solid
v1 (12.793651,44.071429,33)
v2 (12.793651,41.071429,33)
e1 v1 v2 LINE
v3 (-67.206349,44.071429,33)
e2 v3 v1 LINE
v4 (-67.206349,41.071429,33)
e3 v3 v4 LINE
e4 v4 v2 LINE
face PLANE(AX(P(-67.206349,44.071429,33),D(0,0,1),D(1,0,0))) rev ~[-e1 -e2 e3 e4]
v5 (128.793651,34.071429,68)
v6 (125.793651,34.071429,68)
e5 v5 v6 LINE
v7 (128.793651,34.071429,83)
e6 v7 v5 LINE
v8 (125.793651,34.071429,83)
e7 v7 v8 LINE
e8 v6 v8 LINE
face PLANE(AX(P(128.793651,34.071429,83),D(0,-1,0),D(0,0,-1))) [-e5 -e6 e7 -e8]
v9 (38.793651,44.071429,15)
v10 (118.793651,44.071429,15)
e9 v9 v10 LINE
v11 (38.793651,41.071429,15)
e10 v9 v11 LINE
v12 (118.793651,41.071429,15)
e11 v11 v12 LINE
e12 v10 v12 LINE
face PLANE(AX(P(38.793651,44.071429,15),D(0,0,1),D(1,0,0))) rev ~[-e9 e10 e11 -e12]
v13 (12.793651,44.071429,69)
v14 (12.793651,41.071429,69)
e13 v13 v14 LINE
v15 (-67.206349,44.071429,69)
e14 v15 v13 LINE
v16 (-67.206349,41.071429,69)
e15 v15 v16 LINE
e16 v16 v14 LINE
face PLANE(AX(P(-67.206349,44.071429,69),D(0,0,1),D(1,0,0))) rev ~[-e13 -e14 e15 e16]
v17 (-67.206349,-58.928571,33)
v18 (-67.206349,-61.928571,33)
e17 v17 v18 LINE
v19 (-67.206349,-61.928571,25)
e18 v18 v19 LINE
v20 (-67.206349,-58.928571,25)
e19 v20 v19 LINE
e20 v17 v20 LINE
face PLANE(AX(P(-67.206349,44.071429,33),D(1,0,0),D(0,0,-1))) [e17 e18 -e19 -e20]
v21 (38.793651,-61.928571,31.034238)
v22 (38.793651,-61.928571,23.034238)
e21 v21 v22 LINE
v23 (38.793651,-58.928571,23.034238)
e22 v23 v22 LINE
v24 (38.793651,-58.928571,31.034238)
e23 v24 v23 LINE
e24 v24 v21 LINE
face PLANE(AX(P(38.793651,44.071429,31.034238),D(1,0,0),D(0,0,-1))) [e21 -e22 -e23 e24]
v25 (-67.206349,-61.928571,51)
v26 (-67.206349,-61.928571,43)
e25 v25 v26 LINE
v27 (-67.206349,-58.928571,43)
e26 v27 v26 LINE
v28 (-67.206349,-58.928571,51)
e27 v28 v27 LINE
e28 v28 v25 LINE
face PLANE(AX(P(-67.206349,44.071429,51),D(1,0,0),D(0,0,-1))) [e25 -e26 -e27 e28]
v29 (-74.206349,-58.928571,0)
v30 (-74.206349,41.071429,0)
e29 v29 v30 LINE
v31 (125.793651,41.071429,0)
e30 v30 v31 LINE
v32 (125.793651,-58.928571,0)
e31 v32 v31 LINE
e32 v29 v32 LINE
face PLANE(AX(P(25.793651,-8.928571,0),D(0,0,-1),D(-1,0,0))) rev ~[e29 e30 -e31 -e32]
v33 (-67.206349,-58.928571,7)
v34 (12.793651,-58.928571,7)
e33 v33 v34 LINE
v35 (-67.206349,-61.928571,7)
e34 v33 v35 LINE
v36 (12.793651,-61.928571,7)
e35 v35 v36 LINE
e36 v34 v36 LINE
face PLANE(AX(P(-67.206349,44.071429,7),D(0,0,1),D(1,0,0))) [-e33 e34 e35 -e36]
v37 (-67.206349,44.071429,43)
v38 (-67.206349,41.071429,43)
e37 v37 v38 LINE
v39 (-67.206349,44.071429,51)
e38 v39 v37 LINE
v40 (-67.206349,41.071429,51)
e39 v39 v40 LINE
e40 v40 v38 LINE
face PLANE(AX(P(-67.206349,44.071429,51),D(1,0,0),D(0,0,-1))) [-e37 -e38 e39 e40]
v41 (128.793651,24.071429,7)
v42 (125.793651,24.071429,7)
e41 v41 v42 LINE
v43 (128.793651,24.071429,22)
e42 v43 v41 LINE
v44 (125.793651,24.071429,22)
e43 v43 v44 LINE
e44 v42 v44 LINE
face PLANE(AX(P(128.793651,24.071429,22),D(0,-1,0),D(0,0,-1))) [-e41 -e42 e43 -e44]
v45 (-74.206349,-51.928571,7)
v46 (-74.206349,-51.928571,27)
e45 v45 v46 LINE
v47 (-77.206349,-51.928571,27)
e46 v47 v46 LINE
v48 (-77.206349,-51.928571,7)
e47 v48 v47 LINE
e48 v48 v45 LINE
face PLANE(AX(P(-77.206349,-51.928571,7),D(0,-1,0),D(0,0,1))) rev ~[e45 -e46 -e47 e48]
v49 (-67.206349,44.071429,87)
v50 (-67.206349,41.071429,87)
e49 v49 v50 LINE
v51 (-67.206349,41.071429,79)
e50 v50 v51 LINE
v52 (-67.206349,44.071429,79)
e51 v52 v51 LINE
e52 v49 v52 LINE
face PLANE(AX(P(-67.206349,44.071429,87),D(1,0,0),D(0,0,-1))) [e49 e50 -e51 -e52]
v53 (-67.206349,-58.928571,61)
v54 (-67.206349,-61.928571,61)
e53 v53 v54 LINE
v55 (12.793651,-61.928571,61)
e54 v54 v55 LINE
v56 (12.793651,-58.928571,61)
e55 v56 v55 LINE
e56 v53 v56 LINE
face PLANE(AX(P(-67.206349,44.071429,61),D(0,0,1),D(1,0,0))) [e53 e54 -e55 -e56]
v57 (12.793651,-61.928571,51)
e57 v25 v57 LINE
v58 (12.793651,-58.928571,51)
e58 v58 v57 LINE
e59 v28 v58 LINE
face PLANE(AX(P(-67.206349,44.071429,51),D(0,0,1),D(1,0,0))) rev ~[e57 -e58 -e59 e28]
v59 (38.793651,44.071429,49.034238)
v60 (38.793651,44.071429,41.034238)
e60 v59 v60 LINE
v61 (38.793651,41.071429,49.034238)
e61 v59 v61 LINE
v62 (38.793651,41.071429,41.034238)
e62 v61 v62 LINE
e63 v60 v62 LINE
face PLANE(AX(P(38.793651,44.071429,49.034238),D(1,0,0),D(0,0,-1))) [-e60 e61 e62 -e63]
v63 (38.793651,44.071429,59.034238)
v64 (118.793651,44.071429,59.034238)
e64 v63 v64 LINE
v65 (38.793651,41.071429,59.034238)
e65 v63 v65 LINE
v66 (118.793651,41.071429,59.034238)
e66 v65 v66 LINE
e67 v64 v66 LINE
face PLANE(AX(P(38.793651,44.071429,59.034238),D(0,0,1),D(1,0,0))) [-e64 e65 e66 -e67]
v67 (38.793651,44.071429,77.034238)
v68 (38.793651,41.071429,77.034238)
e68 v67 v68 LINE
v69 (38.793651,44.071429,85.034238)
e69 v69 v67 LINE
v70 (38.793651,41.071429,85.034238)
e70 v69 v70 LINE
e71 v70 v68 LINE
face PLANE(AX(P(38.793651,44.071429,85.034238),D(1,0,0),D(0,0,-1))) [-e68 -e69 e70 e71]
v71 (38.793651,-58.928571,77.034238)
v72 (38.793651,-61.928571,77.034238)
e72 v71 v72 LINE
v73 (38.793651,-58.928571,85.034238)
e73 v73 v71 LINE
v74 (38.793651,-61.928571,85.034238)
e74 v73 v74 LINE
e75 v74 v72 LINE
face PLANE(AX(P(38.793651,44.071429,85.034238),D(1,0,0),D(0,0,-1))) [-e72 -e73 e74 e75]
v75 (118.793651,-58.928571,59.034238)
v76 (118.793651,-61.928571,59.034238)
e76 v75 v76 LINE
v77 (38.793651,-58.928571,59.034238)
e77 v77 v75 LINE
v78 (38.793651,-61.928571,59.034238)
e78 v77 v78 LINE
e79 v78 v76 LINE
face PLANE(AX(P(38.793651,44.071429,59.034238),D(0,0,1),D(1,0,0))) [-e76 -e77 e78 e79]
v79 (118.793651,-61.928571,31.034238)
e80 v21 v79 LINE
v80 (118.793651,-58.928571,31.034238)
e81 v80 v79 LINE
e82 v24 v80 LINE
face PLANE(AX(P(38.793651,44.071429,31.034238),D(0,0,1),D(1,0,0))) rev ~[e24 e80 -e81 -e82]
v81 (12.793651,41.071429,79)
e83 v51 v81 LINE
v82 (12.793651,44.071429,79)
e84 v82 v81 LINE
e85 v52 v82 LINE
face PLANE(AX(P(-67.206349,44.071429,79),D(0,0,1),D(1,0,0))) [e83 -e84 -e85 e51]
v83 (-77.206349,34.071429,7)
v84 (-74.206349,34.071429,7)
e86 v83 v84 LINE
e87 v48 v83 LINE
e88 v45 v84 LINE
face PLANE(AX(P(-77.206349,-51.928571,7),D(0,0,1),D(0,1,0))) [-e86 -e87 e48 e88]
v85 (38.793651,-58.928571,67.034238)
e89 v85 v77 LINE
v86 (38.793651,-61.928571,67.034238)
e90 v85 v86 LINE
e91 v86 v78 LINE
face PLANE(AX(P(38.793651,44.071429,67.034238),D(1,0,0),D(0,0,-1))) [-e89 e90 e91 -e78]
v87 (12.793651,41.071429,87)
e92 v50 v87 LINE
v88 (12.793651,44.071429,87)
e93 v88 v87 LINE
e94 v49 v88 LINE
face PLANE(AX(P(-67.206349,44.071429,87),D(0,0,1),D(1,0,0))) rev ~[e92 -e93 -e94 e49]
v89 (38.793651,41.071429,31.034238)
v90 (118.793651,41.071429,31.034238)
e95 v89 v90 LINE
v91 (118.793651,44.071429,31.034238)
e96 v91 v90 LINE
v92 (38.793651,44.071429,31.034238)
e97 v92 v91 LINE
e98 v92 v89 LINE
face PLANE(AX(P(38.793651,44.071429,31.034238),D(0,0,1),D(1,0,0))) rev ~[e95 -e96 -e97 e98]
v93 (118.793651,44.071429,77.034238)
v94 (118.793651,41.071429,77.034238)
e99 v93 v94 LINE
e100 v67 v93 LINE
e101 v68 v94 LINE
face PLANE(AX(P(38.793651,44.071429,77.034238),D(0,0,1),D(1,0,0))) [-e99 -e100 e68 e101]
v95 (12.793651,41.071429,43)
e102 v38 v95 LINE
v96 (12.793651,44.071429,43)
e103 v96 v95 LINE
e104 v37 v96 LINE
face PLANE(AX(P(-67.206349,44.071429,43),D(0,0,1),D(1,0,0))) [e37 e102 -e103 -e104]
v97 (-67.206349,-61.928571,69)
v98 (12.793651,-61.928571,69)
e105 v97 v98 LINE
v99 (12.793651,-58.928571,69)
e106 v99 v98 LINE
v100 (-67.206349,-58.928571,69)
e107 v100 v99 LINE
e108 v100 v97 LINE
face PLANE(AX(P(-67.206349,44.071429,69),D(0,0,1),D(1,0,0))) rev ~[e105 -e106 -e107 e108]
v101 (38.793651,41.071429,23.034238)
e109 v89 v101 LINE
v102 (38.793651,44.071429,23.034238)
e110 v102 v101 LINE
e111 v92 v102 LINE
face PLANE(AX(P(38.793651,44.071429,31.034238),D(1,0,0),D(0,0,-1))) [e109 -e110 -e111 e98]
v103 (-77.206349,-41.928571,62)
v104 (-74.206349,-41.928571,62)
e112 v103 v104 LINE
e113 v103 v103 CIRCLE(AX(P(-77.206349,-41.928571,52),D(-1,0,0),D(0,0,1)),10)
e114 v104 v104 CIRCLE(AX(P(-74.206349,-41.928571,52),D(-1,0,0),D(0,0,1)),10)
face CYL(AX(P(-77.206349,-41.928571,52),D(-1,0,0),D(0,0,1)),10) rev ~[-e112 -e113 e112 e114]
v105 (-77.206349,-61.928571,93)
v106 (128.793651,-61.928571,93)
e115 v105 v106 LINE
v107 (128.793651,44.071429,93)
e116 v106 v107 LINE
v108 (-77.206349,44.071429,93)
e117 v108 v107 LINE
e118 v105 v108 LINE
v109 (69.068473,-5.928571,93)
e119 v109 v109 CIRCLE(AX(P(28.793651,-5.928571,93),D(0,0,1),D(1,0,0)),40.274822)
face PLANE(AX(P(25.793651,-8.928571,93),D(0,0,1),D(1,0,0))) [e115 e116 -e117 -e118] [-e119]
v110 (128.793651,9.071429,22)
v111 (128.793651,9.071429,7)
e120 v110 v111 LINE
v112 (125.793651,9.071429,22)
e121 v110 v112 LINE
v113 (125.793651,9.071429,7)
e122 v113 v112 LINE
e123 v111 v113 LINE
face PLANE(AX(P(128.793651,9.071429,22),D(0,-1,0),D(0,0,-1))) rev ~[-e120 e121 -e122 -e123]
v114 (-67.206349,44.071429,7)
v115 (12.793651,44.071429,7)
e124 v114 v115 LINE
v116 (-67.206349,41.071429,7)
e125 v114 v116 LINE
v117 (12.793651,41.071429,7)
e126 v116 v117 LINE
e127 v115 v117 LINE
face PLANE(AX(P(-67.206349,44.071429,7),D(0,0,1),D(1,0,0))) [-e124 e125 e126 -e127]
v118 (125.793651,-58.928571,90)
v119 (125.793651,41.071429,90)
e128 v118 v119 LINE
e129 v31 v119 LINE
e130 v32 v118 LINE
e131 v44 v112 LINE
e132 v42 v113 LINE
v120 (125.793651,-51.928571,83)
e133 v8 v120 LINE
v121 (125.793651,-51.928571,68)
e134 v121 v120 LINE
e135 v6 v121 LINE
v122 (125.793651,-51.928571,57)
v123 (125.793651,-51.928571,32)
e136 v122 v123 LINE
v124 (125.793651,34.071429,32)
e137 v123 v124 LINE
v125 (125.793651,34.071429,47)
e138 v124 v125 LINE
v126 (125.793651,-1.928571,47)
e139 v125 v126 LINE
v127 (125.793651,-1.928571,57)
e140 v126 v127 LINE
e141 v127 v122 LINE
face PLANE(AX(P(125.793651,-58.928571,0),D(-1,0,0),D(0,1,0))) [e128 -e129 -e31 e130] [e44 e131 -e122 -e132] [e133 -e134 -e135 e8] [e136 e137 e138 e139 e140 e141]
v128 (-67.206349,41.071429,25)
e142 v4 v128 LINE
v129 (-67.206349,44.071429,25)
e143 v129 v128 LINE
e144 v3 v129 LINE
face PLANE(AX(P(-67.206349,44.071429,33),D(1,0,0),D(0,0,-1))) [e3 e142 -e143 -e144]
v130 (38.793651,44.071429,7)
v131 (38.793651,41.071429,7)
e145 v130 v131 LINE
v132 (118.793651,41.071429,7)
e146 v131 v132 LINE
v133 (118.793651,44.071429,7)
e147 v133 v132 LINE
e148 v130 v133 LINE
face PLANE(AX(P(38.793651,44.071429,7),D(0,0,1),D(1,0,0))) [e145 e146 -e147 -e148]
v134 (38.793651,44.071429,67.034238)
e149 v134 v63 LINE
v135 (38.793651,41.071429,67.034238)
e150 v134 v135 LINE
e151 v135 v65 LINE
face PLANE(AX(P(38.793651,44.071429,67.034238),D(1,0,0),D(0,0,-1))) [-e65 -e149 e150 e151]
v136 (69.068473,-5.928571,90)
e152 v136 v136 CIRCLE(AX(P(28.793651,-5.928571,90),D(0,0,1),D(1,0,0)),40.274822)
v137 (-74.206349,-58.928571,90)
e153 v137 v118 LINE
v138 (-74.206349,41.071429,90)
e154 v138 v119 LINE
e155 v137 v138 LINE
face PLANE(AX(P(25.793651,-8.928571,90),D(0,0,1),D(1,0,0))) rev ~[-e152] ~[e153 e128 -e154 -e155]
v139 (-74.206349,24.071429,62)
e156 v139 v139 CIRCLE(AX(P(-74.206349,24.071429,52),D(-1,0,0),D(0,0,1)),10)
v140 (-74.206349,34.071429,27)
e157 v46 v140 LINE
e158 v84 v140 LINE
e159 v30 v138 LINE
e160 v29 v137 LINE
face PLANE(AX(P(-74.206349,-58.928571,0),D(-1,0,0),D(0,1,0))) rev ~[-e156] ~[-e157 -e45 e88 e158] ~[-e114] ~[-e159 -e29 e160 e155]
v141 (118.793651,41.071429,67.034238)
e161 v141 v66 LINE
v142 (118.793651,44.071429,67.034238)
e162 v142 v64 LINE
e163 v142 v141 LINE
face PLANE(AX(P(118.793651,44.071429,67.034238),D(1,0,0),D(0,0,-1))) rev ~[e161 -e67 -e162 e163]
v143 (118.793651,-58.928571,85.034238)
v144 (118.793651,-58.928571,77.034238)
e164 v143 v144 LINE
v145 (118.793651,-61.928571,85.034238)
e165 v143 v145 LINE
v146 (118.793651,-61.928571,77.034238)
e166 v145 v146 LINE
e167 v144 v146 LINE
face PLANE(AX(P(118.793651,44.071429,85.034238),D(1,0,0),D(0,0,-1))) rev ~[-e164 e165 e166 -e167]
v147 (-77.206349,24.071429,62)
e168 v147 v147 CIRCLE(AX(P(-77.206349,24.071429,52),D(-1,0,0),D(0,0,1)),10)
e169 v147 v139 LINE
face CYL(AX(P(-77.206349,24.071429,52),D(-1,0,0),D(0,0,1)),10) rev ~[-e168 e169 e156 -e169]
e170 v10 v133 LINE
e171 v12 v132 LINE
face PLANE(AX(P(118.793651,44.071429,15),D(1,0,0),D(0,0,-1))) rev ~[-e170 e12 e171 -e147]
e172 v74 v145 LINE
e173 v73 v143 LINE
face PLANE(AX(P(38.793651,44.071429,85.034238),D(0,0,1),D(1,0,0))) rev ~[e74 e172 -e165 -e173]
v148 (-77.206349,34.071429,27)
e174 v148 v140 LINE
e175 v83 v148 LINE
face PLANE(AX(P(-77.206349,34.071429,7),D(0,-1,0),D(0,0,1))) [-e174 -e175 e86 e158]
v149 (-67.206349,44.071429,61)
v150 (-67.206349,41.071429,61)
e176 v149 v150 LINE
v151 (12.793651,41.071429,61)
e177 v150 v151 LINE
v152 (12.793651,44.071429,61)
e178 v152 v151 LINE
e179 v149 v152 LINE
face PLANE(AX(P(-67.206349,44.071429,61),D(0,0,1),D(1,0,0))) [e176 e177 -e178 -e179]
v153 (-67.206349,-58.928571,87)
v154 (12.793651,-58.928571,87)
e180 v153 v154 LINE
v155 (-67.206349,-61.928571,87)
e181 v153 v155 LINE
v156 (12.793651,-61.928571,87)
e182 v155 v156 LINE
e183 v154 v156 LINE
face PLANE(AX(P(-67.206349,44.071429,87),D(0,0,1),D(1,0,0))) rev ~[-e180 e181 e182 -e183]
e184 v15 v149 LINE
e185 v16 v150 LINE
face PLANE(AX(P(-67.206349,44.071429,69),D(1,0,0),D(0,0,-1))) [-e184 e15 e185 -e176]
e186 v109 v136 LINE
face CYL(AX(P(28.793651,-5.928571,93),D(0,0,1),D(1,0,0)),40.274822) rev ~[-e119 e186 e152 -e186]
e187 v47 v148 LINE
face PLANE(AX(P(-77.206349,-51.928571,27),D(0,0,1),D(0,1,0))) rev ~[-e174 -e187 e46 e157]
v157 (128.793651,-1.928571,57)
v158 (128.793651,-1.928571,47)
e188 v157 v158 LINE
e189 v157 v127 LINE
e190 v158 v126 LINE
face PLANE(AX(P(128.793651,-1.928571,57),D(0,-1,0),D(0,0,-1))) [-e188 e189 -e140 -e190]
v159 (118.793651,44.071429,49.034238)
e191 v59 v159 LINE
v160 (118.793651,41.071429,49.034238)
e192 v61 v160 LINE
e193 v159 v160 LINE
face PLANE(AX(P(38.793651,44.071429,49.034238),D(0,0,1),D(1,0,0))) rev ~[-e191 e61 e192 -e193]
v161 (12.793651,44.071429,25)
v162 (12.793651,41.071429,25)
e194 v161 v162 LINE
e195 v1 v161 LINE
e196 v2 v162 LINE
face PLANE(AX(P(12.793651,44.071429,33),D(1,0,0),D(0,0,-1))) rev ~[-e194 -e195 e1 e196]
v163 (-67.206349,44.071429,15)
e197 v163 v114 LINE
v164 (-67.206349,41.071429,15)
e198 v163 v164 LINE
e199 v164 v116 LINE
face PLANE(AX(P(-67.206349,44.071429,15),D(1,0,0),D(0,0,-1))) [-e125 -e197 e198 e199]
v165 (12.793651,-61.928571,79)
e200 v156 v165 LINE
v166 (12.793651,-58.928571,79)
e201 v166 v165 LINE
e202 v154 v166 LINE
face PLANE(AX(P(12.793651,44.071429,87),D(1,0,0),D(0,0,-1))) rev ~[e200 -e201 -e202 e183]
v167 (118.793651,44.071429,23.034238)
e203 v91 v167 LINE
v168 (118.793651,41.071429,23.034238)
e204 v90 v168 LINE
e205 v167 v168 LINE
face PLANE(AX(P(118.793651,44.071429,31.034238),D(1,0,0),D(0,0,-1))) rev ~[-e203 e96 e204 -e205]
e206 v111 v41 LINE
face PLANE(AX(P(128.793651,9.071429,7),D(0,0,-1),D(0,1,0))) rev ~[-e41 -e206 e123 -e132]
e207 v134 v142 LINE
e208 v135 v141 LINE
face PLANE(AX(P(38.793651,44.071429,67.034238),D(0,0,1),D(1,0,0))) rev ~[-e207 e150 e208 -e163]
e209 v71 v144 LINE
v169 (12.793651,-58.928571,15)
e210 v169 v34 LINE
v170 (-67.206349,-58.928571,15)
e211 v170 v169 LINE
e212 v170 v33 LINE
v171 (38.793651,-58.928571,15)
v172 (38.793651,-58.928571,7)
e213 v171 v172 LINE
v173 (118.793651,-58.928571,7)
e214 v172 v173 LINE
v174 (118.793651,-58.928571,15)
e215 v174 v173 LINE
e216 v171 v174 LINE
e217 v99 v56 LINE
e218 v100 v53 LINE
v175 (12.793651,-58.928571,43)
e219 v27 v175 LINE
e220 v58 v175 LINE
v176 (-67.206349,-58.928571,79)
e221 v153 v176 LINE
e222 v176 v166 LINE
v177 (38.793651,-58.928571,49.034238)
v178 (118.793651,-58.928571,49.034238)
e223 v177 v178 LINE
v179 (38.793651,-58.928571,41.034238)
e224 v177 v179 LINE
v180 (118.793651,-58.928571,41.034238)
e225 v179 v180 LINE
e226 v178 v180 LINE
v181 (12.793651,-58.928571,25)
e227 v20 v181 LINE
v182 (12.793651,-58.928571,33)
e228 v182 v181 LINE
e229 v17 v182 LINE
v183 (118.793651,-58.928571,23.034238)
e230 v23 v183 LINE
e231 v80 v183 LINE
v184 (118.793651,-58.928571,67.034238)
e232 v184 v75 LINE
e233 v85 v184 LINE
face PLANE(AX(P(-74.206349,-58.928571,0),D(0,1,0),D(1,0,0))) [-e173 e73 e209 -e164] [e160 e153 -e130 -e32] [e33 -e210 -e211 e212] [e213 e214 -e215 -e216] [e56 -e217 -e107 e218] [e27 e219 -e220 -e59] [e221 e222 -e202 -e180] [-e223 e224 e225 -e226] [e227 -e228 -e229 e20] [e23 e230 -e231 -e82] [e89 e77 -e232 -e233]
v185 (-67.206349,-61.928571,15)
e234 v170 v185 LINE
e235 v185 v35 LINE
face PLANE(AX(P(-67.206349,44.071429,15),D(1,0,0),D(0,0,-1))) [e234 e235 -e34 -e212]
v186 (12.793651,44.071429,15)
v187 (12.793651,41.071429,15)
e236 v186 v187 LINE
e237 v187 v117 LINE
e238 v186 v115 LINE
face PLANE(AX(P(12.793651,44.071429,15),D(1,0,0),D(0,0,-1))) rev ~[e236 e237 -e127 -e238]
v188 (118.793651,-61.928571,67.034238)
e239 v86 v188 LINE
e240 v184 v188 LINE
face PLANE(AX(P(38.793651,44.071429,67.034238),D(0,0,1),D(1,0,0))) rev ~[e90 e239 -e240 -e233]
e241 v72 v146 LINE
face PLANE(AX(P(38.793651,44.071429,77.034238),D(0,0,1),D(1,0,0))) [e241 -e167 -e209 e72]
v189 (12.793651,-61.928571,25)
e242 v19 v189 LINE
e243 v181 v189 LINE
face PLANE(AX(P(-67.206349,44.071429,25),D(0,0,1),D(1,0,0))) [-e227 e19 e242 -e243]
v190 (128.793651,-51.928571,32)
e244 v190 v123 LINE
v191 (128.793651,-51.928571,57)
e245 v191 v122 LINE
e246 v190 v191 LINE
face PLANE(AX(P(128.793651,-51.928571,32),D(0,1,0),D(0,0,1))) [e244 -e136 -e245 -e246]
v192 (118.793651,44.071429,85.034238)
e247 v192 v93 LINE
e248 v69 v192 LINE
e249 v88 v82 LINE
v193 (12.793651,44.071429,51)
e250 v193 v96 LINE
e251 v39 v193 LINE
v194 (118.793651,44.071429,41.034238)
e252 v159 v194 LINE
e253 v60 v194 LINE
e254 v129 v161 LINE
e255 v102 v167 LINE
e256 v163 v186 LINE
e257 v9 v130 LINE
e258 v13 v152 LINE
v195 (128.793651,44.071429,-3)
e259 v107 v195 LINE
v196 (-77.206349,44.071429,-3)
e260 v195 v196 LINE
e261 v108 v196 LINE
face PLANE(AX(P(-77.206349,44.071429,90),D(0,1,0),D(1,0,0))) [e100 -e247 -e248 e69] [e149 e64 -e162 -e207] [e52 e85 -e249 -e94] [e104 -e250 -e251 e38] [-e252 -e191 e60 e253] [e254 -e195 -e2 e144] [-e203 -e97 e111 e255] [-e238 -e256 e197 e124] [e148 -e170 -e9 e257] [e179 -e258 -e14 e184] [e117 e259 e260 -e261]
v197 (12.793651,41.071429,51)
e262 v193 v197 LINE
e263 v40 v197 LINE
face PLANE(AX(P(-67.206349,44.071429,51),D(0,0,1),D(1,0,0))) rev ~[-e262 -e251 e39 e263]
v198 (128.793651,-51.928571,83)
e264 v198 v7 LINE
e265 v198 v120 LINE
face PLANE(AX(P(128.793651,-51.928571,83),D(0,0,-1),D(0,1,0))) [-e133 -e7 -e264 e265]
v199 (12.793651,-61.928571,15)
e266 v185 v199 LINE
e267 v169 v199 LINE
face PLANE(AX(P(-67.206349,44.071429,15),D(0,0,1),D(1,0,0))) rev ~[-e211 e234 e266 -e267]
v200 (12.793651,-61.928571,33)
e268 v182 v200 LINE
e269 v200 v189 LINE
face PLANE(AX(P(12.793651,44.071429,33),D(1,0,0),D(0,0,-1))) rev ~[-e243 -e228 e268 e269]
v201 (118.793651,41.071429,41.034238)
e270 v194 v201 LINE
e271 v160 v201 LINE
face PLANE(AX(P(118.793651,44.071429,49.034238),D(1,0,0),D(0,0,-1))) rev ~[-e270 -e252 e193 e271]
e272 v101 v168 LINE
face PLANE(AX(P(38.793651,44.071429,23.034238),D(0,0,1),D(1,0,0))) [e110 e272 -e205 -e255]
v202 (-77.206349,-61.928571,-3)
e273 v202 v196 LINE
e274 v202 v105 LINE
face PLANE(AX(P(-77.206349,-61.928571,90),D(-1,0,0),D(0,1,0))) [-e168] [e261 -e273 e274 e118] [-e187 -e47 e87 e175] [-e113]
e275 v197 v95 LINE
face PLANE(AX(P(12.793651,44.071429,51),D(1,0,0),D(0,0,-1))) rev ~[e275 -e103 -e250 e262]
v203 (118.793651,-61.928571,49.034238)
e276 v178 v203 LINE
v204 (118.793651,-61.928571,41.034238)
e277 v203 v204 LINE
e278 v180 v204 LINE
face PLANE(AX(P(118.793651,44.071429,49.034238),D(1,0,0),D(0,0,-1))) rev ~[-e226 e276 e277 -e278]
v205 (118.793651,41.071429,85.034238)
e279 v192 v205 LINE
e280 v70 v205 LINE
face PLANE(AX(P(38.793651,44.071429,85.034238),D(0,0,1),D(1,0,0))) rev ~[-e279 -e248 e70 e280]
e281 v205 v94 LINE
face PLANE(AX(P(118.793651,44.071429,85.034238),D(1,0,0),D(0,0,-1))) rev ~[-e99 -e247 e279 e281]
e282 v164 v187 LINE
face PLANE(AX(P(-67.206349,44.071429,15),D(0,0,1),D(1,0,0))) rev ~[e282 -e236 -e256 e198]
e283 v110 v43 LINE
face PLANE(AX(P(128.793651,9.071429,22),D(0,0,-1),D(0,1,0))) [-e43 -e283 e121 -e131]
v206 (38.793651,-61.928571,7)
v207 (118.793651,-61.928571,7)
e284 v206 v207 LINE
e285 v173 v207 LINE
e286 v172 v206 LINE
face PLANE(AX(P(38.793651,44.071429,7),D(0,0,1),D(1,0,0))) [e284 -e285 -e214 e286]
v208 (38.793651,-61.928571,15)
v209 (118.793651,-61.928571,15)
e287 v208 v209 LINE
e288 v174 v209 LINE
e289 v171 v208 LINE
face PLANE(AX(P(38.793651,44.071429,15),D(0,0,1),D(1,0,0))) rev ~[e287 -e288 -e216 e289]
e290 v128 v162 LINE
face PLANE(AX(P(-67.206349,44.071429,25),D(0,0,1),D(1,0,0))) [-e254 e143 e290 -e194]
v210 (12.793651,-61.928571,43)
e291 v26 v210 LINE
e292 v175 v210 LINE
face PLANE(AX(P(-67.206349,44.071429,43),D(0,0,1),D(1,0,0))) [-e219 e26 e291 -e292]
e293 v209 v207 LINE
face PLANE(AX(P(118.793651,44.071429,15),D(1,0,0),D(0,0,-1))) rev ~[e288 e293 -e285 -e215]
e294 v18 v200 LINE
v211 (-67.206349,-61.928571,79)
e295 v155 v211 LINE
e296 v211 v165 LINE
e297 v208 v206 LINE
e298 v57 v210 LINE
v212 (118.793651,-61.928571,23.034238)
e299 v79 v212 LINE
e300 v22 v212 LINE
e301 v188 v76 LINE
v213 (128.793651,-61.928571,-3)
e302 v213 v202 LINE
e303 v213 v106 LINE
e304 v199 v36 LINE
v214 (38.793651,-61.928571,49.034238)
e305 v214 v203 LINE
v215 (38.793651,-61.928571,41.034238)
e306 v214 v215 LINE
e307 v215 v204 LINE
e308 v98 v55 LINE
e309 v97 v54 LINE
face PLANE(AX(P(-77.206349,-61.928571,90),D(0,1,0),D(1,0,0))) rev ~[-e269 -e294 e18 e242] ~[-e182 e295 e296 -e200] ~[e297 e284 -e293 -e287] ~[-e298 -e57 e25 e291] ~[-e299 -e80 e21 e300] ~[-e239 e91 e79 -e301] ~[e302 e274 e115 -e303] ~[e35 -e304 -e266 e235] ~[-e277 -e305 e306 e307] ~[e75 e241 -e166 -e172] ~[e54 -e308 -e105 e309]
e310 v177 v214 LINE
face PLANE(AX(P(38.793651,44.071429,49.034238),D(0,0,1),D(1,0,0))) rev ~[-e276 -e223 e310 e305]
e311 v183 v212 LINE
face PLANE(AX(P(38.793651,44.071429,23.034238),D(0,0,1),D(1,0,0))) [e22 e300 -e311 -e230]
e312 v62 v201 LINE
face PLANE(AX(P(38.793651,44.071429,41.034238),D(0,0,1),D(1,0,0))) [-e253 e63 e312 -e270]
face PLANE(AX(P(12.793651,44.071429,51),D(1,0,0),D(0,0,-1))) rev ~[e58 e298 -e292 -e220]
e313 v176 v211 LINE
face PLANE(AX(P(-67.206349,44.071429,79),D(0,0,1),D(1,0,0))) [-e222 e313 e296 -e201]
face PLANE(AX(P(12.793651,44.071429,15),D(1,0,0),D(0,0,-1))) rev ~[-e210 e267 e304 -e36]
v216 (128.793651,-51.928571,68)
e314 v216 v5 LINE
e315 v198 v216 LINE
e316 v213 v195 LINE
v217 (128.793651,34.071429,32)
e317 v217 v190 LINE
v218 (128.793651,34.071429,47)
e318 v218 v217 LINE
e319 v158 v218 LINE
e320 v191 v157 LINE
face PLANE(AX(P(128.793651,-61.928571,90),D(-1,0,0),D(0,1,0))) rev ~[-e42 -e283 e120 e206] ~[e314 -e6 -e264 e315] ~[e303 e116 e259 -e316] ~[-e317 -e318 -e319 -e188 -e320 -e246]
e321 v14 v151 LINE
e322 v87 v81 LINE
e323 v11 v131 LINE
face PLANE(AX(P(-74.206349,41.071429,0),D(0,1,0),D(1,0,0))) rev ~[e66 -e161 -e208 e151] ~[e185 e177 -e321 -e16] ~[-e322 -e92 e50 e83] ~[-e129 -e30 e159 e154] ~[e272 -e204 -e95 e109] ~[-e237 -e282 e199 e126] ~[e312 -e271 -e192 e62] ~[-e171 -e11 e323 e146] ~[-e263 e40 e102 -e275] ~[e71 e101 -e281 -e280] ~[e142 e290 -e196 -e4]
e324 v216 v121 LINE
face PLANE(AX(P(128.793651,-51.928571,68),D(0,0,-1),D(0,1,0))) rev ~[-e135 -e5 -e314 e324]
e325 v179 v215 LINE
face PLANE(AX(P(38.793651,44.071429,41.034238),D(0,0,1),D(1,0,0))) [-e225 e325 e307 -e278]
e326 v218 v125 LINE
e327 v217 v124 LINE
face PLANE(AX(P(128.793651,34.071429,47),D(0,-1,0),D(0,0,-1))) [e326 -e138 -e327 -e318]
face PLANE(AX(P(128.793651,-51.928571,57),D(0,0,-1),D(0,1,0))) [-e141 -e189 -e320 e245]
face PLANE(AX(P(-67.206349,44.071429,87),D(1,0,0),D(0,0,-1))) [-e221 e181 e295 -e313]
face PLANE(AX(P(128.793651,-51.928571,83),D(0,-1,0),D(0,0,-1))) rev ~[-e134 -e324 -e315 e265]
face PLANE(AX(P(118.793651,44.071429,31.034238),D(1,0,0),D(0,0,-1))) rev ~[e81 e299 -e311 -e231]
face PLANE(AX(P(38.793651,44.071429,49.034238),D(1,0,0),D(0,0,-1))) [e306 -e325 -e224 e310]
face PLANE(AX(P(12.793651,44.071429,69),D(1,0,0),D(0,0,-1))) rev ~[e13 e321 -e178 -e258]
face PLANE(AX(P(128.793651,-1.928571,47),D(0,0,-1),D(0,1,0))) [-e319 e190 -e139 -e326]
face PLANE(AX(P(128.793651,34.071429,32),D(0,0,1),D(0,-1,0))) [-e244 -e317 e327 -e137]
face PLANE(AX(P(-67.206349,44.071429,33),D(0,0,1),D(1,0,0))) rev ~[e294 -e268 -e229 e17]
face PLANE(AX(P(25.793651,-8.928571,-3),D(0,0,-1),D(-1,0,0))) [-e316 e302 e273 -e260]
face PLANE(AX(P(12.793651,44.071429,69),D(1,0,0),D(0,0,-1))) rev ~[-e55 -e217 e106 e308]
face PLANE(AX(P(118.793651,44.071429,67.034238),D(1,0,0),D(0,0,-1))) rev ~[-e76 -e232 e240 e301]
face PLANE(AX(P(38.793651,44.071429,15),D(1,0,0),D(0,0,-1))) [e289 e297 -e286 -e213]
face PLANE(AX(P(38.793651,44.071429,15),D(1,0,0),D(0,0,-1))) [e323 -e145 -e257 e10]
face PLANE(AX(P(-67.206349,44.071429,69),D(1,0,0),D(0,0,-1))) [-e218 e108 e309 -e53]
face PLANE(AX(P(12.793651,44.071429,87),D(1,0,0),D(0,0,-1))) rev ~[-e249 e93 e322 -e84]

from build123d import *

# Parameters (mm, degrees)
SKETCH1_W           = 206
SKETCH1_H           = 106
SKETCH1_W_2         = 200
SKETCH1_H_2         = 100
EXTRUDE_THIN1_DEPTH = 90
SKETCH2_W           = 206
SKETCH2_H           = 106
BOSS_EXTRUDE1_DEPTH = 3
SKETCH4_W           = 206
SKETCH4_H           = 106
BOSS_EXTRUDE2_DEPTH = 3
SKETCH5_R           = 40.274821778
CUT_EXTRUDE1_DEPTH  = 6
SKETCH6_W           = 80
SKETCH6_H           = 8
CUT_EXTRUDE2_DEPTH  = 150
SKETCH8_R           = 10
SKETCH8_W           = 20
SKETCH8_H           = 86
CUT_EXTRUDE3_DEPTH  = 10
SKETCH9_W           = 15
SKETCH9_H           = 15
SKETCH9_H_2         = 86
CUT_EXTRUDE4_DEPTH  = 10


with BuildPart() as part:
    # Sketch1 → Extrude-Thin1 (new body)
    with BuildSketch(Plane.XY):
        with Locations((25.793650794, -8.928571429)):
            Rectangle(SKETCH1_W, SKETCH1_H)
        with Locations((25.793650794, -8.928571429)):
            Rectangle(SKETCH1_W_2, SKETCH1_H_2, mode=Mode.SUBTRACT)
    extrude(amount=EXTRUDE_THIN1_DEPTH)

    # Sketch2 → Boss-Extrude1 (add)
    with BuildSketch(Plane(origin=(0, 0, 0), x_dir=(-1, 0, 0), z_dir=(0, 0, -1))):
        with Locations((-25.793650794, -8.928571429)):
            Rectangle(SKETCH2_W, SKETCH2_H)
    extrude(amount=BOSS_EXTRUDE1_DEPTH)

    # Sketch4 → Boss-Extrude2 (add)
    with BuildSketch(Plane.XY.offset(90)):
        with Locations((25.793650794, -8.928571429)):
            Rectangle(SKETCH4_W, SKETCH4_H)
    extrude(amount=BOSS_EXTRUDE2_DEPTH)

    # Sketch5 → Cut-Extrude1 (cut)
    with BuildSketch(Plane.XY.offset(93)):
        with Locations((28.793650794, -5.928571429)):
            Circle(SKETCH5_R)
    extrude(amount=-CUT_EXTRUDE1_DEPTH, mode=Mode.SUBTRACT)

    # Sketch6 → Cut-Extrude2 (cut)
    with BuildSketch(Plane(origin=(0, 44.071428571, 0), x_dir=(1, 0, 0), z_dir=(0, 1, 0))):
        with Locations((-27.206349206, -11)):
            Rectangle(SKETCH6_W, SKETCH6_H)
        with Locations((78.793650794, -11)):
            Rectangle(SKETCH6_W, SKETCH6_H)
        with Locations((78.793650794, -27.034238135)):
            Rectangle(SKETCH6_W, SKETCH6_H)
        with Locations((78.793650794, -45.034238135)):
            Rectangle(SKETCH6_W, SKETCH6_H)
        with Locations((78.793650794, -63.034238135)):
            Rectangle(SKETCH6_W, SKETCH6_H)
        with Locations((78.793650794, -81.034238135)):
            Rectangle(SKETCH6_W, SKETCH6_H)
        with Locations((-27.206349206, -29)):
            Rectangle(SKETCH6_W, SKETCH6_H)
        with Locations((-27.206349206, -47)):
            Rectangle(SKETCH6_W, SKETCH6_H)
        with Locations((-27.206349206, -65)):
            Rectangle(SKETCH6_W, SKETCH6_H)
        with Locations((-27.206349206, -83)):
            Rectangle(SKETCH6_W, SKETCH6_H)
    extrude(amount=-CUT_EXTRUDE2_DEPTH, mode=Mode.SUBTRACT)

    # Sketch8 → Cut-Extrude3 (cut)
    with BuildSketch(Plane.ZY.offset(77.206349206)):
        with Locations((52, 24.071428571)):
            Circle(SKETCH8_R)
        with Locations((52, -41.928571429)):
            Circle(SKETCH8_R)
        with Locations((17, -8.928571429)):
            Rectangle(SKETCH8_W, SKETCH8_H)
    extrude(amount=-CUT_EXTRUDE3_DEPTH, mode=Mode.SUBTRACT)

    # Sketch9 → Cut-Extrude4 (cut)
    with BuildSketch(Plane(origin=(128.793650794, 0, 0), x_dir=(0, 0, -1), z_dir=(1, 0, 0))):
        Polygon((-32, 34.071428571), (-32, -51.928571429), (-57, -51.928571429), (-57, -1.928571429), (-47, -1.928571429), (-47, 34.071428571), align=None)
        with Locations((-14.5, 16.571428571)):
            Rectangle(SKETCH9_W, SKETCH9_H)
        with Locations((-75.5, -8.928571429)):
            Rectangle(SKETCH9_W, SKETCH9_H_2)
    extrude(amount=-CUT_EXTRUDE4_DEPTH, mode=Mode.SUBTRACT)


solid = part.part
